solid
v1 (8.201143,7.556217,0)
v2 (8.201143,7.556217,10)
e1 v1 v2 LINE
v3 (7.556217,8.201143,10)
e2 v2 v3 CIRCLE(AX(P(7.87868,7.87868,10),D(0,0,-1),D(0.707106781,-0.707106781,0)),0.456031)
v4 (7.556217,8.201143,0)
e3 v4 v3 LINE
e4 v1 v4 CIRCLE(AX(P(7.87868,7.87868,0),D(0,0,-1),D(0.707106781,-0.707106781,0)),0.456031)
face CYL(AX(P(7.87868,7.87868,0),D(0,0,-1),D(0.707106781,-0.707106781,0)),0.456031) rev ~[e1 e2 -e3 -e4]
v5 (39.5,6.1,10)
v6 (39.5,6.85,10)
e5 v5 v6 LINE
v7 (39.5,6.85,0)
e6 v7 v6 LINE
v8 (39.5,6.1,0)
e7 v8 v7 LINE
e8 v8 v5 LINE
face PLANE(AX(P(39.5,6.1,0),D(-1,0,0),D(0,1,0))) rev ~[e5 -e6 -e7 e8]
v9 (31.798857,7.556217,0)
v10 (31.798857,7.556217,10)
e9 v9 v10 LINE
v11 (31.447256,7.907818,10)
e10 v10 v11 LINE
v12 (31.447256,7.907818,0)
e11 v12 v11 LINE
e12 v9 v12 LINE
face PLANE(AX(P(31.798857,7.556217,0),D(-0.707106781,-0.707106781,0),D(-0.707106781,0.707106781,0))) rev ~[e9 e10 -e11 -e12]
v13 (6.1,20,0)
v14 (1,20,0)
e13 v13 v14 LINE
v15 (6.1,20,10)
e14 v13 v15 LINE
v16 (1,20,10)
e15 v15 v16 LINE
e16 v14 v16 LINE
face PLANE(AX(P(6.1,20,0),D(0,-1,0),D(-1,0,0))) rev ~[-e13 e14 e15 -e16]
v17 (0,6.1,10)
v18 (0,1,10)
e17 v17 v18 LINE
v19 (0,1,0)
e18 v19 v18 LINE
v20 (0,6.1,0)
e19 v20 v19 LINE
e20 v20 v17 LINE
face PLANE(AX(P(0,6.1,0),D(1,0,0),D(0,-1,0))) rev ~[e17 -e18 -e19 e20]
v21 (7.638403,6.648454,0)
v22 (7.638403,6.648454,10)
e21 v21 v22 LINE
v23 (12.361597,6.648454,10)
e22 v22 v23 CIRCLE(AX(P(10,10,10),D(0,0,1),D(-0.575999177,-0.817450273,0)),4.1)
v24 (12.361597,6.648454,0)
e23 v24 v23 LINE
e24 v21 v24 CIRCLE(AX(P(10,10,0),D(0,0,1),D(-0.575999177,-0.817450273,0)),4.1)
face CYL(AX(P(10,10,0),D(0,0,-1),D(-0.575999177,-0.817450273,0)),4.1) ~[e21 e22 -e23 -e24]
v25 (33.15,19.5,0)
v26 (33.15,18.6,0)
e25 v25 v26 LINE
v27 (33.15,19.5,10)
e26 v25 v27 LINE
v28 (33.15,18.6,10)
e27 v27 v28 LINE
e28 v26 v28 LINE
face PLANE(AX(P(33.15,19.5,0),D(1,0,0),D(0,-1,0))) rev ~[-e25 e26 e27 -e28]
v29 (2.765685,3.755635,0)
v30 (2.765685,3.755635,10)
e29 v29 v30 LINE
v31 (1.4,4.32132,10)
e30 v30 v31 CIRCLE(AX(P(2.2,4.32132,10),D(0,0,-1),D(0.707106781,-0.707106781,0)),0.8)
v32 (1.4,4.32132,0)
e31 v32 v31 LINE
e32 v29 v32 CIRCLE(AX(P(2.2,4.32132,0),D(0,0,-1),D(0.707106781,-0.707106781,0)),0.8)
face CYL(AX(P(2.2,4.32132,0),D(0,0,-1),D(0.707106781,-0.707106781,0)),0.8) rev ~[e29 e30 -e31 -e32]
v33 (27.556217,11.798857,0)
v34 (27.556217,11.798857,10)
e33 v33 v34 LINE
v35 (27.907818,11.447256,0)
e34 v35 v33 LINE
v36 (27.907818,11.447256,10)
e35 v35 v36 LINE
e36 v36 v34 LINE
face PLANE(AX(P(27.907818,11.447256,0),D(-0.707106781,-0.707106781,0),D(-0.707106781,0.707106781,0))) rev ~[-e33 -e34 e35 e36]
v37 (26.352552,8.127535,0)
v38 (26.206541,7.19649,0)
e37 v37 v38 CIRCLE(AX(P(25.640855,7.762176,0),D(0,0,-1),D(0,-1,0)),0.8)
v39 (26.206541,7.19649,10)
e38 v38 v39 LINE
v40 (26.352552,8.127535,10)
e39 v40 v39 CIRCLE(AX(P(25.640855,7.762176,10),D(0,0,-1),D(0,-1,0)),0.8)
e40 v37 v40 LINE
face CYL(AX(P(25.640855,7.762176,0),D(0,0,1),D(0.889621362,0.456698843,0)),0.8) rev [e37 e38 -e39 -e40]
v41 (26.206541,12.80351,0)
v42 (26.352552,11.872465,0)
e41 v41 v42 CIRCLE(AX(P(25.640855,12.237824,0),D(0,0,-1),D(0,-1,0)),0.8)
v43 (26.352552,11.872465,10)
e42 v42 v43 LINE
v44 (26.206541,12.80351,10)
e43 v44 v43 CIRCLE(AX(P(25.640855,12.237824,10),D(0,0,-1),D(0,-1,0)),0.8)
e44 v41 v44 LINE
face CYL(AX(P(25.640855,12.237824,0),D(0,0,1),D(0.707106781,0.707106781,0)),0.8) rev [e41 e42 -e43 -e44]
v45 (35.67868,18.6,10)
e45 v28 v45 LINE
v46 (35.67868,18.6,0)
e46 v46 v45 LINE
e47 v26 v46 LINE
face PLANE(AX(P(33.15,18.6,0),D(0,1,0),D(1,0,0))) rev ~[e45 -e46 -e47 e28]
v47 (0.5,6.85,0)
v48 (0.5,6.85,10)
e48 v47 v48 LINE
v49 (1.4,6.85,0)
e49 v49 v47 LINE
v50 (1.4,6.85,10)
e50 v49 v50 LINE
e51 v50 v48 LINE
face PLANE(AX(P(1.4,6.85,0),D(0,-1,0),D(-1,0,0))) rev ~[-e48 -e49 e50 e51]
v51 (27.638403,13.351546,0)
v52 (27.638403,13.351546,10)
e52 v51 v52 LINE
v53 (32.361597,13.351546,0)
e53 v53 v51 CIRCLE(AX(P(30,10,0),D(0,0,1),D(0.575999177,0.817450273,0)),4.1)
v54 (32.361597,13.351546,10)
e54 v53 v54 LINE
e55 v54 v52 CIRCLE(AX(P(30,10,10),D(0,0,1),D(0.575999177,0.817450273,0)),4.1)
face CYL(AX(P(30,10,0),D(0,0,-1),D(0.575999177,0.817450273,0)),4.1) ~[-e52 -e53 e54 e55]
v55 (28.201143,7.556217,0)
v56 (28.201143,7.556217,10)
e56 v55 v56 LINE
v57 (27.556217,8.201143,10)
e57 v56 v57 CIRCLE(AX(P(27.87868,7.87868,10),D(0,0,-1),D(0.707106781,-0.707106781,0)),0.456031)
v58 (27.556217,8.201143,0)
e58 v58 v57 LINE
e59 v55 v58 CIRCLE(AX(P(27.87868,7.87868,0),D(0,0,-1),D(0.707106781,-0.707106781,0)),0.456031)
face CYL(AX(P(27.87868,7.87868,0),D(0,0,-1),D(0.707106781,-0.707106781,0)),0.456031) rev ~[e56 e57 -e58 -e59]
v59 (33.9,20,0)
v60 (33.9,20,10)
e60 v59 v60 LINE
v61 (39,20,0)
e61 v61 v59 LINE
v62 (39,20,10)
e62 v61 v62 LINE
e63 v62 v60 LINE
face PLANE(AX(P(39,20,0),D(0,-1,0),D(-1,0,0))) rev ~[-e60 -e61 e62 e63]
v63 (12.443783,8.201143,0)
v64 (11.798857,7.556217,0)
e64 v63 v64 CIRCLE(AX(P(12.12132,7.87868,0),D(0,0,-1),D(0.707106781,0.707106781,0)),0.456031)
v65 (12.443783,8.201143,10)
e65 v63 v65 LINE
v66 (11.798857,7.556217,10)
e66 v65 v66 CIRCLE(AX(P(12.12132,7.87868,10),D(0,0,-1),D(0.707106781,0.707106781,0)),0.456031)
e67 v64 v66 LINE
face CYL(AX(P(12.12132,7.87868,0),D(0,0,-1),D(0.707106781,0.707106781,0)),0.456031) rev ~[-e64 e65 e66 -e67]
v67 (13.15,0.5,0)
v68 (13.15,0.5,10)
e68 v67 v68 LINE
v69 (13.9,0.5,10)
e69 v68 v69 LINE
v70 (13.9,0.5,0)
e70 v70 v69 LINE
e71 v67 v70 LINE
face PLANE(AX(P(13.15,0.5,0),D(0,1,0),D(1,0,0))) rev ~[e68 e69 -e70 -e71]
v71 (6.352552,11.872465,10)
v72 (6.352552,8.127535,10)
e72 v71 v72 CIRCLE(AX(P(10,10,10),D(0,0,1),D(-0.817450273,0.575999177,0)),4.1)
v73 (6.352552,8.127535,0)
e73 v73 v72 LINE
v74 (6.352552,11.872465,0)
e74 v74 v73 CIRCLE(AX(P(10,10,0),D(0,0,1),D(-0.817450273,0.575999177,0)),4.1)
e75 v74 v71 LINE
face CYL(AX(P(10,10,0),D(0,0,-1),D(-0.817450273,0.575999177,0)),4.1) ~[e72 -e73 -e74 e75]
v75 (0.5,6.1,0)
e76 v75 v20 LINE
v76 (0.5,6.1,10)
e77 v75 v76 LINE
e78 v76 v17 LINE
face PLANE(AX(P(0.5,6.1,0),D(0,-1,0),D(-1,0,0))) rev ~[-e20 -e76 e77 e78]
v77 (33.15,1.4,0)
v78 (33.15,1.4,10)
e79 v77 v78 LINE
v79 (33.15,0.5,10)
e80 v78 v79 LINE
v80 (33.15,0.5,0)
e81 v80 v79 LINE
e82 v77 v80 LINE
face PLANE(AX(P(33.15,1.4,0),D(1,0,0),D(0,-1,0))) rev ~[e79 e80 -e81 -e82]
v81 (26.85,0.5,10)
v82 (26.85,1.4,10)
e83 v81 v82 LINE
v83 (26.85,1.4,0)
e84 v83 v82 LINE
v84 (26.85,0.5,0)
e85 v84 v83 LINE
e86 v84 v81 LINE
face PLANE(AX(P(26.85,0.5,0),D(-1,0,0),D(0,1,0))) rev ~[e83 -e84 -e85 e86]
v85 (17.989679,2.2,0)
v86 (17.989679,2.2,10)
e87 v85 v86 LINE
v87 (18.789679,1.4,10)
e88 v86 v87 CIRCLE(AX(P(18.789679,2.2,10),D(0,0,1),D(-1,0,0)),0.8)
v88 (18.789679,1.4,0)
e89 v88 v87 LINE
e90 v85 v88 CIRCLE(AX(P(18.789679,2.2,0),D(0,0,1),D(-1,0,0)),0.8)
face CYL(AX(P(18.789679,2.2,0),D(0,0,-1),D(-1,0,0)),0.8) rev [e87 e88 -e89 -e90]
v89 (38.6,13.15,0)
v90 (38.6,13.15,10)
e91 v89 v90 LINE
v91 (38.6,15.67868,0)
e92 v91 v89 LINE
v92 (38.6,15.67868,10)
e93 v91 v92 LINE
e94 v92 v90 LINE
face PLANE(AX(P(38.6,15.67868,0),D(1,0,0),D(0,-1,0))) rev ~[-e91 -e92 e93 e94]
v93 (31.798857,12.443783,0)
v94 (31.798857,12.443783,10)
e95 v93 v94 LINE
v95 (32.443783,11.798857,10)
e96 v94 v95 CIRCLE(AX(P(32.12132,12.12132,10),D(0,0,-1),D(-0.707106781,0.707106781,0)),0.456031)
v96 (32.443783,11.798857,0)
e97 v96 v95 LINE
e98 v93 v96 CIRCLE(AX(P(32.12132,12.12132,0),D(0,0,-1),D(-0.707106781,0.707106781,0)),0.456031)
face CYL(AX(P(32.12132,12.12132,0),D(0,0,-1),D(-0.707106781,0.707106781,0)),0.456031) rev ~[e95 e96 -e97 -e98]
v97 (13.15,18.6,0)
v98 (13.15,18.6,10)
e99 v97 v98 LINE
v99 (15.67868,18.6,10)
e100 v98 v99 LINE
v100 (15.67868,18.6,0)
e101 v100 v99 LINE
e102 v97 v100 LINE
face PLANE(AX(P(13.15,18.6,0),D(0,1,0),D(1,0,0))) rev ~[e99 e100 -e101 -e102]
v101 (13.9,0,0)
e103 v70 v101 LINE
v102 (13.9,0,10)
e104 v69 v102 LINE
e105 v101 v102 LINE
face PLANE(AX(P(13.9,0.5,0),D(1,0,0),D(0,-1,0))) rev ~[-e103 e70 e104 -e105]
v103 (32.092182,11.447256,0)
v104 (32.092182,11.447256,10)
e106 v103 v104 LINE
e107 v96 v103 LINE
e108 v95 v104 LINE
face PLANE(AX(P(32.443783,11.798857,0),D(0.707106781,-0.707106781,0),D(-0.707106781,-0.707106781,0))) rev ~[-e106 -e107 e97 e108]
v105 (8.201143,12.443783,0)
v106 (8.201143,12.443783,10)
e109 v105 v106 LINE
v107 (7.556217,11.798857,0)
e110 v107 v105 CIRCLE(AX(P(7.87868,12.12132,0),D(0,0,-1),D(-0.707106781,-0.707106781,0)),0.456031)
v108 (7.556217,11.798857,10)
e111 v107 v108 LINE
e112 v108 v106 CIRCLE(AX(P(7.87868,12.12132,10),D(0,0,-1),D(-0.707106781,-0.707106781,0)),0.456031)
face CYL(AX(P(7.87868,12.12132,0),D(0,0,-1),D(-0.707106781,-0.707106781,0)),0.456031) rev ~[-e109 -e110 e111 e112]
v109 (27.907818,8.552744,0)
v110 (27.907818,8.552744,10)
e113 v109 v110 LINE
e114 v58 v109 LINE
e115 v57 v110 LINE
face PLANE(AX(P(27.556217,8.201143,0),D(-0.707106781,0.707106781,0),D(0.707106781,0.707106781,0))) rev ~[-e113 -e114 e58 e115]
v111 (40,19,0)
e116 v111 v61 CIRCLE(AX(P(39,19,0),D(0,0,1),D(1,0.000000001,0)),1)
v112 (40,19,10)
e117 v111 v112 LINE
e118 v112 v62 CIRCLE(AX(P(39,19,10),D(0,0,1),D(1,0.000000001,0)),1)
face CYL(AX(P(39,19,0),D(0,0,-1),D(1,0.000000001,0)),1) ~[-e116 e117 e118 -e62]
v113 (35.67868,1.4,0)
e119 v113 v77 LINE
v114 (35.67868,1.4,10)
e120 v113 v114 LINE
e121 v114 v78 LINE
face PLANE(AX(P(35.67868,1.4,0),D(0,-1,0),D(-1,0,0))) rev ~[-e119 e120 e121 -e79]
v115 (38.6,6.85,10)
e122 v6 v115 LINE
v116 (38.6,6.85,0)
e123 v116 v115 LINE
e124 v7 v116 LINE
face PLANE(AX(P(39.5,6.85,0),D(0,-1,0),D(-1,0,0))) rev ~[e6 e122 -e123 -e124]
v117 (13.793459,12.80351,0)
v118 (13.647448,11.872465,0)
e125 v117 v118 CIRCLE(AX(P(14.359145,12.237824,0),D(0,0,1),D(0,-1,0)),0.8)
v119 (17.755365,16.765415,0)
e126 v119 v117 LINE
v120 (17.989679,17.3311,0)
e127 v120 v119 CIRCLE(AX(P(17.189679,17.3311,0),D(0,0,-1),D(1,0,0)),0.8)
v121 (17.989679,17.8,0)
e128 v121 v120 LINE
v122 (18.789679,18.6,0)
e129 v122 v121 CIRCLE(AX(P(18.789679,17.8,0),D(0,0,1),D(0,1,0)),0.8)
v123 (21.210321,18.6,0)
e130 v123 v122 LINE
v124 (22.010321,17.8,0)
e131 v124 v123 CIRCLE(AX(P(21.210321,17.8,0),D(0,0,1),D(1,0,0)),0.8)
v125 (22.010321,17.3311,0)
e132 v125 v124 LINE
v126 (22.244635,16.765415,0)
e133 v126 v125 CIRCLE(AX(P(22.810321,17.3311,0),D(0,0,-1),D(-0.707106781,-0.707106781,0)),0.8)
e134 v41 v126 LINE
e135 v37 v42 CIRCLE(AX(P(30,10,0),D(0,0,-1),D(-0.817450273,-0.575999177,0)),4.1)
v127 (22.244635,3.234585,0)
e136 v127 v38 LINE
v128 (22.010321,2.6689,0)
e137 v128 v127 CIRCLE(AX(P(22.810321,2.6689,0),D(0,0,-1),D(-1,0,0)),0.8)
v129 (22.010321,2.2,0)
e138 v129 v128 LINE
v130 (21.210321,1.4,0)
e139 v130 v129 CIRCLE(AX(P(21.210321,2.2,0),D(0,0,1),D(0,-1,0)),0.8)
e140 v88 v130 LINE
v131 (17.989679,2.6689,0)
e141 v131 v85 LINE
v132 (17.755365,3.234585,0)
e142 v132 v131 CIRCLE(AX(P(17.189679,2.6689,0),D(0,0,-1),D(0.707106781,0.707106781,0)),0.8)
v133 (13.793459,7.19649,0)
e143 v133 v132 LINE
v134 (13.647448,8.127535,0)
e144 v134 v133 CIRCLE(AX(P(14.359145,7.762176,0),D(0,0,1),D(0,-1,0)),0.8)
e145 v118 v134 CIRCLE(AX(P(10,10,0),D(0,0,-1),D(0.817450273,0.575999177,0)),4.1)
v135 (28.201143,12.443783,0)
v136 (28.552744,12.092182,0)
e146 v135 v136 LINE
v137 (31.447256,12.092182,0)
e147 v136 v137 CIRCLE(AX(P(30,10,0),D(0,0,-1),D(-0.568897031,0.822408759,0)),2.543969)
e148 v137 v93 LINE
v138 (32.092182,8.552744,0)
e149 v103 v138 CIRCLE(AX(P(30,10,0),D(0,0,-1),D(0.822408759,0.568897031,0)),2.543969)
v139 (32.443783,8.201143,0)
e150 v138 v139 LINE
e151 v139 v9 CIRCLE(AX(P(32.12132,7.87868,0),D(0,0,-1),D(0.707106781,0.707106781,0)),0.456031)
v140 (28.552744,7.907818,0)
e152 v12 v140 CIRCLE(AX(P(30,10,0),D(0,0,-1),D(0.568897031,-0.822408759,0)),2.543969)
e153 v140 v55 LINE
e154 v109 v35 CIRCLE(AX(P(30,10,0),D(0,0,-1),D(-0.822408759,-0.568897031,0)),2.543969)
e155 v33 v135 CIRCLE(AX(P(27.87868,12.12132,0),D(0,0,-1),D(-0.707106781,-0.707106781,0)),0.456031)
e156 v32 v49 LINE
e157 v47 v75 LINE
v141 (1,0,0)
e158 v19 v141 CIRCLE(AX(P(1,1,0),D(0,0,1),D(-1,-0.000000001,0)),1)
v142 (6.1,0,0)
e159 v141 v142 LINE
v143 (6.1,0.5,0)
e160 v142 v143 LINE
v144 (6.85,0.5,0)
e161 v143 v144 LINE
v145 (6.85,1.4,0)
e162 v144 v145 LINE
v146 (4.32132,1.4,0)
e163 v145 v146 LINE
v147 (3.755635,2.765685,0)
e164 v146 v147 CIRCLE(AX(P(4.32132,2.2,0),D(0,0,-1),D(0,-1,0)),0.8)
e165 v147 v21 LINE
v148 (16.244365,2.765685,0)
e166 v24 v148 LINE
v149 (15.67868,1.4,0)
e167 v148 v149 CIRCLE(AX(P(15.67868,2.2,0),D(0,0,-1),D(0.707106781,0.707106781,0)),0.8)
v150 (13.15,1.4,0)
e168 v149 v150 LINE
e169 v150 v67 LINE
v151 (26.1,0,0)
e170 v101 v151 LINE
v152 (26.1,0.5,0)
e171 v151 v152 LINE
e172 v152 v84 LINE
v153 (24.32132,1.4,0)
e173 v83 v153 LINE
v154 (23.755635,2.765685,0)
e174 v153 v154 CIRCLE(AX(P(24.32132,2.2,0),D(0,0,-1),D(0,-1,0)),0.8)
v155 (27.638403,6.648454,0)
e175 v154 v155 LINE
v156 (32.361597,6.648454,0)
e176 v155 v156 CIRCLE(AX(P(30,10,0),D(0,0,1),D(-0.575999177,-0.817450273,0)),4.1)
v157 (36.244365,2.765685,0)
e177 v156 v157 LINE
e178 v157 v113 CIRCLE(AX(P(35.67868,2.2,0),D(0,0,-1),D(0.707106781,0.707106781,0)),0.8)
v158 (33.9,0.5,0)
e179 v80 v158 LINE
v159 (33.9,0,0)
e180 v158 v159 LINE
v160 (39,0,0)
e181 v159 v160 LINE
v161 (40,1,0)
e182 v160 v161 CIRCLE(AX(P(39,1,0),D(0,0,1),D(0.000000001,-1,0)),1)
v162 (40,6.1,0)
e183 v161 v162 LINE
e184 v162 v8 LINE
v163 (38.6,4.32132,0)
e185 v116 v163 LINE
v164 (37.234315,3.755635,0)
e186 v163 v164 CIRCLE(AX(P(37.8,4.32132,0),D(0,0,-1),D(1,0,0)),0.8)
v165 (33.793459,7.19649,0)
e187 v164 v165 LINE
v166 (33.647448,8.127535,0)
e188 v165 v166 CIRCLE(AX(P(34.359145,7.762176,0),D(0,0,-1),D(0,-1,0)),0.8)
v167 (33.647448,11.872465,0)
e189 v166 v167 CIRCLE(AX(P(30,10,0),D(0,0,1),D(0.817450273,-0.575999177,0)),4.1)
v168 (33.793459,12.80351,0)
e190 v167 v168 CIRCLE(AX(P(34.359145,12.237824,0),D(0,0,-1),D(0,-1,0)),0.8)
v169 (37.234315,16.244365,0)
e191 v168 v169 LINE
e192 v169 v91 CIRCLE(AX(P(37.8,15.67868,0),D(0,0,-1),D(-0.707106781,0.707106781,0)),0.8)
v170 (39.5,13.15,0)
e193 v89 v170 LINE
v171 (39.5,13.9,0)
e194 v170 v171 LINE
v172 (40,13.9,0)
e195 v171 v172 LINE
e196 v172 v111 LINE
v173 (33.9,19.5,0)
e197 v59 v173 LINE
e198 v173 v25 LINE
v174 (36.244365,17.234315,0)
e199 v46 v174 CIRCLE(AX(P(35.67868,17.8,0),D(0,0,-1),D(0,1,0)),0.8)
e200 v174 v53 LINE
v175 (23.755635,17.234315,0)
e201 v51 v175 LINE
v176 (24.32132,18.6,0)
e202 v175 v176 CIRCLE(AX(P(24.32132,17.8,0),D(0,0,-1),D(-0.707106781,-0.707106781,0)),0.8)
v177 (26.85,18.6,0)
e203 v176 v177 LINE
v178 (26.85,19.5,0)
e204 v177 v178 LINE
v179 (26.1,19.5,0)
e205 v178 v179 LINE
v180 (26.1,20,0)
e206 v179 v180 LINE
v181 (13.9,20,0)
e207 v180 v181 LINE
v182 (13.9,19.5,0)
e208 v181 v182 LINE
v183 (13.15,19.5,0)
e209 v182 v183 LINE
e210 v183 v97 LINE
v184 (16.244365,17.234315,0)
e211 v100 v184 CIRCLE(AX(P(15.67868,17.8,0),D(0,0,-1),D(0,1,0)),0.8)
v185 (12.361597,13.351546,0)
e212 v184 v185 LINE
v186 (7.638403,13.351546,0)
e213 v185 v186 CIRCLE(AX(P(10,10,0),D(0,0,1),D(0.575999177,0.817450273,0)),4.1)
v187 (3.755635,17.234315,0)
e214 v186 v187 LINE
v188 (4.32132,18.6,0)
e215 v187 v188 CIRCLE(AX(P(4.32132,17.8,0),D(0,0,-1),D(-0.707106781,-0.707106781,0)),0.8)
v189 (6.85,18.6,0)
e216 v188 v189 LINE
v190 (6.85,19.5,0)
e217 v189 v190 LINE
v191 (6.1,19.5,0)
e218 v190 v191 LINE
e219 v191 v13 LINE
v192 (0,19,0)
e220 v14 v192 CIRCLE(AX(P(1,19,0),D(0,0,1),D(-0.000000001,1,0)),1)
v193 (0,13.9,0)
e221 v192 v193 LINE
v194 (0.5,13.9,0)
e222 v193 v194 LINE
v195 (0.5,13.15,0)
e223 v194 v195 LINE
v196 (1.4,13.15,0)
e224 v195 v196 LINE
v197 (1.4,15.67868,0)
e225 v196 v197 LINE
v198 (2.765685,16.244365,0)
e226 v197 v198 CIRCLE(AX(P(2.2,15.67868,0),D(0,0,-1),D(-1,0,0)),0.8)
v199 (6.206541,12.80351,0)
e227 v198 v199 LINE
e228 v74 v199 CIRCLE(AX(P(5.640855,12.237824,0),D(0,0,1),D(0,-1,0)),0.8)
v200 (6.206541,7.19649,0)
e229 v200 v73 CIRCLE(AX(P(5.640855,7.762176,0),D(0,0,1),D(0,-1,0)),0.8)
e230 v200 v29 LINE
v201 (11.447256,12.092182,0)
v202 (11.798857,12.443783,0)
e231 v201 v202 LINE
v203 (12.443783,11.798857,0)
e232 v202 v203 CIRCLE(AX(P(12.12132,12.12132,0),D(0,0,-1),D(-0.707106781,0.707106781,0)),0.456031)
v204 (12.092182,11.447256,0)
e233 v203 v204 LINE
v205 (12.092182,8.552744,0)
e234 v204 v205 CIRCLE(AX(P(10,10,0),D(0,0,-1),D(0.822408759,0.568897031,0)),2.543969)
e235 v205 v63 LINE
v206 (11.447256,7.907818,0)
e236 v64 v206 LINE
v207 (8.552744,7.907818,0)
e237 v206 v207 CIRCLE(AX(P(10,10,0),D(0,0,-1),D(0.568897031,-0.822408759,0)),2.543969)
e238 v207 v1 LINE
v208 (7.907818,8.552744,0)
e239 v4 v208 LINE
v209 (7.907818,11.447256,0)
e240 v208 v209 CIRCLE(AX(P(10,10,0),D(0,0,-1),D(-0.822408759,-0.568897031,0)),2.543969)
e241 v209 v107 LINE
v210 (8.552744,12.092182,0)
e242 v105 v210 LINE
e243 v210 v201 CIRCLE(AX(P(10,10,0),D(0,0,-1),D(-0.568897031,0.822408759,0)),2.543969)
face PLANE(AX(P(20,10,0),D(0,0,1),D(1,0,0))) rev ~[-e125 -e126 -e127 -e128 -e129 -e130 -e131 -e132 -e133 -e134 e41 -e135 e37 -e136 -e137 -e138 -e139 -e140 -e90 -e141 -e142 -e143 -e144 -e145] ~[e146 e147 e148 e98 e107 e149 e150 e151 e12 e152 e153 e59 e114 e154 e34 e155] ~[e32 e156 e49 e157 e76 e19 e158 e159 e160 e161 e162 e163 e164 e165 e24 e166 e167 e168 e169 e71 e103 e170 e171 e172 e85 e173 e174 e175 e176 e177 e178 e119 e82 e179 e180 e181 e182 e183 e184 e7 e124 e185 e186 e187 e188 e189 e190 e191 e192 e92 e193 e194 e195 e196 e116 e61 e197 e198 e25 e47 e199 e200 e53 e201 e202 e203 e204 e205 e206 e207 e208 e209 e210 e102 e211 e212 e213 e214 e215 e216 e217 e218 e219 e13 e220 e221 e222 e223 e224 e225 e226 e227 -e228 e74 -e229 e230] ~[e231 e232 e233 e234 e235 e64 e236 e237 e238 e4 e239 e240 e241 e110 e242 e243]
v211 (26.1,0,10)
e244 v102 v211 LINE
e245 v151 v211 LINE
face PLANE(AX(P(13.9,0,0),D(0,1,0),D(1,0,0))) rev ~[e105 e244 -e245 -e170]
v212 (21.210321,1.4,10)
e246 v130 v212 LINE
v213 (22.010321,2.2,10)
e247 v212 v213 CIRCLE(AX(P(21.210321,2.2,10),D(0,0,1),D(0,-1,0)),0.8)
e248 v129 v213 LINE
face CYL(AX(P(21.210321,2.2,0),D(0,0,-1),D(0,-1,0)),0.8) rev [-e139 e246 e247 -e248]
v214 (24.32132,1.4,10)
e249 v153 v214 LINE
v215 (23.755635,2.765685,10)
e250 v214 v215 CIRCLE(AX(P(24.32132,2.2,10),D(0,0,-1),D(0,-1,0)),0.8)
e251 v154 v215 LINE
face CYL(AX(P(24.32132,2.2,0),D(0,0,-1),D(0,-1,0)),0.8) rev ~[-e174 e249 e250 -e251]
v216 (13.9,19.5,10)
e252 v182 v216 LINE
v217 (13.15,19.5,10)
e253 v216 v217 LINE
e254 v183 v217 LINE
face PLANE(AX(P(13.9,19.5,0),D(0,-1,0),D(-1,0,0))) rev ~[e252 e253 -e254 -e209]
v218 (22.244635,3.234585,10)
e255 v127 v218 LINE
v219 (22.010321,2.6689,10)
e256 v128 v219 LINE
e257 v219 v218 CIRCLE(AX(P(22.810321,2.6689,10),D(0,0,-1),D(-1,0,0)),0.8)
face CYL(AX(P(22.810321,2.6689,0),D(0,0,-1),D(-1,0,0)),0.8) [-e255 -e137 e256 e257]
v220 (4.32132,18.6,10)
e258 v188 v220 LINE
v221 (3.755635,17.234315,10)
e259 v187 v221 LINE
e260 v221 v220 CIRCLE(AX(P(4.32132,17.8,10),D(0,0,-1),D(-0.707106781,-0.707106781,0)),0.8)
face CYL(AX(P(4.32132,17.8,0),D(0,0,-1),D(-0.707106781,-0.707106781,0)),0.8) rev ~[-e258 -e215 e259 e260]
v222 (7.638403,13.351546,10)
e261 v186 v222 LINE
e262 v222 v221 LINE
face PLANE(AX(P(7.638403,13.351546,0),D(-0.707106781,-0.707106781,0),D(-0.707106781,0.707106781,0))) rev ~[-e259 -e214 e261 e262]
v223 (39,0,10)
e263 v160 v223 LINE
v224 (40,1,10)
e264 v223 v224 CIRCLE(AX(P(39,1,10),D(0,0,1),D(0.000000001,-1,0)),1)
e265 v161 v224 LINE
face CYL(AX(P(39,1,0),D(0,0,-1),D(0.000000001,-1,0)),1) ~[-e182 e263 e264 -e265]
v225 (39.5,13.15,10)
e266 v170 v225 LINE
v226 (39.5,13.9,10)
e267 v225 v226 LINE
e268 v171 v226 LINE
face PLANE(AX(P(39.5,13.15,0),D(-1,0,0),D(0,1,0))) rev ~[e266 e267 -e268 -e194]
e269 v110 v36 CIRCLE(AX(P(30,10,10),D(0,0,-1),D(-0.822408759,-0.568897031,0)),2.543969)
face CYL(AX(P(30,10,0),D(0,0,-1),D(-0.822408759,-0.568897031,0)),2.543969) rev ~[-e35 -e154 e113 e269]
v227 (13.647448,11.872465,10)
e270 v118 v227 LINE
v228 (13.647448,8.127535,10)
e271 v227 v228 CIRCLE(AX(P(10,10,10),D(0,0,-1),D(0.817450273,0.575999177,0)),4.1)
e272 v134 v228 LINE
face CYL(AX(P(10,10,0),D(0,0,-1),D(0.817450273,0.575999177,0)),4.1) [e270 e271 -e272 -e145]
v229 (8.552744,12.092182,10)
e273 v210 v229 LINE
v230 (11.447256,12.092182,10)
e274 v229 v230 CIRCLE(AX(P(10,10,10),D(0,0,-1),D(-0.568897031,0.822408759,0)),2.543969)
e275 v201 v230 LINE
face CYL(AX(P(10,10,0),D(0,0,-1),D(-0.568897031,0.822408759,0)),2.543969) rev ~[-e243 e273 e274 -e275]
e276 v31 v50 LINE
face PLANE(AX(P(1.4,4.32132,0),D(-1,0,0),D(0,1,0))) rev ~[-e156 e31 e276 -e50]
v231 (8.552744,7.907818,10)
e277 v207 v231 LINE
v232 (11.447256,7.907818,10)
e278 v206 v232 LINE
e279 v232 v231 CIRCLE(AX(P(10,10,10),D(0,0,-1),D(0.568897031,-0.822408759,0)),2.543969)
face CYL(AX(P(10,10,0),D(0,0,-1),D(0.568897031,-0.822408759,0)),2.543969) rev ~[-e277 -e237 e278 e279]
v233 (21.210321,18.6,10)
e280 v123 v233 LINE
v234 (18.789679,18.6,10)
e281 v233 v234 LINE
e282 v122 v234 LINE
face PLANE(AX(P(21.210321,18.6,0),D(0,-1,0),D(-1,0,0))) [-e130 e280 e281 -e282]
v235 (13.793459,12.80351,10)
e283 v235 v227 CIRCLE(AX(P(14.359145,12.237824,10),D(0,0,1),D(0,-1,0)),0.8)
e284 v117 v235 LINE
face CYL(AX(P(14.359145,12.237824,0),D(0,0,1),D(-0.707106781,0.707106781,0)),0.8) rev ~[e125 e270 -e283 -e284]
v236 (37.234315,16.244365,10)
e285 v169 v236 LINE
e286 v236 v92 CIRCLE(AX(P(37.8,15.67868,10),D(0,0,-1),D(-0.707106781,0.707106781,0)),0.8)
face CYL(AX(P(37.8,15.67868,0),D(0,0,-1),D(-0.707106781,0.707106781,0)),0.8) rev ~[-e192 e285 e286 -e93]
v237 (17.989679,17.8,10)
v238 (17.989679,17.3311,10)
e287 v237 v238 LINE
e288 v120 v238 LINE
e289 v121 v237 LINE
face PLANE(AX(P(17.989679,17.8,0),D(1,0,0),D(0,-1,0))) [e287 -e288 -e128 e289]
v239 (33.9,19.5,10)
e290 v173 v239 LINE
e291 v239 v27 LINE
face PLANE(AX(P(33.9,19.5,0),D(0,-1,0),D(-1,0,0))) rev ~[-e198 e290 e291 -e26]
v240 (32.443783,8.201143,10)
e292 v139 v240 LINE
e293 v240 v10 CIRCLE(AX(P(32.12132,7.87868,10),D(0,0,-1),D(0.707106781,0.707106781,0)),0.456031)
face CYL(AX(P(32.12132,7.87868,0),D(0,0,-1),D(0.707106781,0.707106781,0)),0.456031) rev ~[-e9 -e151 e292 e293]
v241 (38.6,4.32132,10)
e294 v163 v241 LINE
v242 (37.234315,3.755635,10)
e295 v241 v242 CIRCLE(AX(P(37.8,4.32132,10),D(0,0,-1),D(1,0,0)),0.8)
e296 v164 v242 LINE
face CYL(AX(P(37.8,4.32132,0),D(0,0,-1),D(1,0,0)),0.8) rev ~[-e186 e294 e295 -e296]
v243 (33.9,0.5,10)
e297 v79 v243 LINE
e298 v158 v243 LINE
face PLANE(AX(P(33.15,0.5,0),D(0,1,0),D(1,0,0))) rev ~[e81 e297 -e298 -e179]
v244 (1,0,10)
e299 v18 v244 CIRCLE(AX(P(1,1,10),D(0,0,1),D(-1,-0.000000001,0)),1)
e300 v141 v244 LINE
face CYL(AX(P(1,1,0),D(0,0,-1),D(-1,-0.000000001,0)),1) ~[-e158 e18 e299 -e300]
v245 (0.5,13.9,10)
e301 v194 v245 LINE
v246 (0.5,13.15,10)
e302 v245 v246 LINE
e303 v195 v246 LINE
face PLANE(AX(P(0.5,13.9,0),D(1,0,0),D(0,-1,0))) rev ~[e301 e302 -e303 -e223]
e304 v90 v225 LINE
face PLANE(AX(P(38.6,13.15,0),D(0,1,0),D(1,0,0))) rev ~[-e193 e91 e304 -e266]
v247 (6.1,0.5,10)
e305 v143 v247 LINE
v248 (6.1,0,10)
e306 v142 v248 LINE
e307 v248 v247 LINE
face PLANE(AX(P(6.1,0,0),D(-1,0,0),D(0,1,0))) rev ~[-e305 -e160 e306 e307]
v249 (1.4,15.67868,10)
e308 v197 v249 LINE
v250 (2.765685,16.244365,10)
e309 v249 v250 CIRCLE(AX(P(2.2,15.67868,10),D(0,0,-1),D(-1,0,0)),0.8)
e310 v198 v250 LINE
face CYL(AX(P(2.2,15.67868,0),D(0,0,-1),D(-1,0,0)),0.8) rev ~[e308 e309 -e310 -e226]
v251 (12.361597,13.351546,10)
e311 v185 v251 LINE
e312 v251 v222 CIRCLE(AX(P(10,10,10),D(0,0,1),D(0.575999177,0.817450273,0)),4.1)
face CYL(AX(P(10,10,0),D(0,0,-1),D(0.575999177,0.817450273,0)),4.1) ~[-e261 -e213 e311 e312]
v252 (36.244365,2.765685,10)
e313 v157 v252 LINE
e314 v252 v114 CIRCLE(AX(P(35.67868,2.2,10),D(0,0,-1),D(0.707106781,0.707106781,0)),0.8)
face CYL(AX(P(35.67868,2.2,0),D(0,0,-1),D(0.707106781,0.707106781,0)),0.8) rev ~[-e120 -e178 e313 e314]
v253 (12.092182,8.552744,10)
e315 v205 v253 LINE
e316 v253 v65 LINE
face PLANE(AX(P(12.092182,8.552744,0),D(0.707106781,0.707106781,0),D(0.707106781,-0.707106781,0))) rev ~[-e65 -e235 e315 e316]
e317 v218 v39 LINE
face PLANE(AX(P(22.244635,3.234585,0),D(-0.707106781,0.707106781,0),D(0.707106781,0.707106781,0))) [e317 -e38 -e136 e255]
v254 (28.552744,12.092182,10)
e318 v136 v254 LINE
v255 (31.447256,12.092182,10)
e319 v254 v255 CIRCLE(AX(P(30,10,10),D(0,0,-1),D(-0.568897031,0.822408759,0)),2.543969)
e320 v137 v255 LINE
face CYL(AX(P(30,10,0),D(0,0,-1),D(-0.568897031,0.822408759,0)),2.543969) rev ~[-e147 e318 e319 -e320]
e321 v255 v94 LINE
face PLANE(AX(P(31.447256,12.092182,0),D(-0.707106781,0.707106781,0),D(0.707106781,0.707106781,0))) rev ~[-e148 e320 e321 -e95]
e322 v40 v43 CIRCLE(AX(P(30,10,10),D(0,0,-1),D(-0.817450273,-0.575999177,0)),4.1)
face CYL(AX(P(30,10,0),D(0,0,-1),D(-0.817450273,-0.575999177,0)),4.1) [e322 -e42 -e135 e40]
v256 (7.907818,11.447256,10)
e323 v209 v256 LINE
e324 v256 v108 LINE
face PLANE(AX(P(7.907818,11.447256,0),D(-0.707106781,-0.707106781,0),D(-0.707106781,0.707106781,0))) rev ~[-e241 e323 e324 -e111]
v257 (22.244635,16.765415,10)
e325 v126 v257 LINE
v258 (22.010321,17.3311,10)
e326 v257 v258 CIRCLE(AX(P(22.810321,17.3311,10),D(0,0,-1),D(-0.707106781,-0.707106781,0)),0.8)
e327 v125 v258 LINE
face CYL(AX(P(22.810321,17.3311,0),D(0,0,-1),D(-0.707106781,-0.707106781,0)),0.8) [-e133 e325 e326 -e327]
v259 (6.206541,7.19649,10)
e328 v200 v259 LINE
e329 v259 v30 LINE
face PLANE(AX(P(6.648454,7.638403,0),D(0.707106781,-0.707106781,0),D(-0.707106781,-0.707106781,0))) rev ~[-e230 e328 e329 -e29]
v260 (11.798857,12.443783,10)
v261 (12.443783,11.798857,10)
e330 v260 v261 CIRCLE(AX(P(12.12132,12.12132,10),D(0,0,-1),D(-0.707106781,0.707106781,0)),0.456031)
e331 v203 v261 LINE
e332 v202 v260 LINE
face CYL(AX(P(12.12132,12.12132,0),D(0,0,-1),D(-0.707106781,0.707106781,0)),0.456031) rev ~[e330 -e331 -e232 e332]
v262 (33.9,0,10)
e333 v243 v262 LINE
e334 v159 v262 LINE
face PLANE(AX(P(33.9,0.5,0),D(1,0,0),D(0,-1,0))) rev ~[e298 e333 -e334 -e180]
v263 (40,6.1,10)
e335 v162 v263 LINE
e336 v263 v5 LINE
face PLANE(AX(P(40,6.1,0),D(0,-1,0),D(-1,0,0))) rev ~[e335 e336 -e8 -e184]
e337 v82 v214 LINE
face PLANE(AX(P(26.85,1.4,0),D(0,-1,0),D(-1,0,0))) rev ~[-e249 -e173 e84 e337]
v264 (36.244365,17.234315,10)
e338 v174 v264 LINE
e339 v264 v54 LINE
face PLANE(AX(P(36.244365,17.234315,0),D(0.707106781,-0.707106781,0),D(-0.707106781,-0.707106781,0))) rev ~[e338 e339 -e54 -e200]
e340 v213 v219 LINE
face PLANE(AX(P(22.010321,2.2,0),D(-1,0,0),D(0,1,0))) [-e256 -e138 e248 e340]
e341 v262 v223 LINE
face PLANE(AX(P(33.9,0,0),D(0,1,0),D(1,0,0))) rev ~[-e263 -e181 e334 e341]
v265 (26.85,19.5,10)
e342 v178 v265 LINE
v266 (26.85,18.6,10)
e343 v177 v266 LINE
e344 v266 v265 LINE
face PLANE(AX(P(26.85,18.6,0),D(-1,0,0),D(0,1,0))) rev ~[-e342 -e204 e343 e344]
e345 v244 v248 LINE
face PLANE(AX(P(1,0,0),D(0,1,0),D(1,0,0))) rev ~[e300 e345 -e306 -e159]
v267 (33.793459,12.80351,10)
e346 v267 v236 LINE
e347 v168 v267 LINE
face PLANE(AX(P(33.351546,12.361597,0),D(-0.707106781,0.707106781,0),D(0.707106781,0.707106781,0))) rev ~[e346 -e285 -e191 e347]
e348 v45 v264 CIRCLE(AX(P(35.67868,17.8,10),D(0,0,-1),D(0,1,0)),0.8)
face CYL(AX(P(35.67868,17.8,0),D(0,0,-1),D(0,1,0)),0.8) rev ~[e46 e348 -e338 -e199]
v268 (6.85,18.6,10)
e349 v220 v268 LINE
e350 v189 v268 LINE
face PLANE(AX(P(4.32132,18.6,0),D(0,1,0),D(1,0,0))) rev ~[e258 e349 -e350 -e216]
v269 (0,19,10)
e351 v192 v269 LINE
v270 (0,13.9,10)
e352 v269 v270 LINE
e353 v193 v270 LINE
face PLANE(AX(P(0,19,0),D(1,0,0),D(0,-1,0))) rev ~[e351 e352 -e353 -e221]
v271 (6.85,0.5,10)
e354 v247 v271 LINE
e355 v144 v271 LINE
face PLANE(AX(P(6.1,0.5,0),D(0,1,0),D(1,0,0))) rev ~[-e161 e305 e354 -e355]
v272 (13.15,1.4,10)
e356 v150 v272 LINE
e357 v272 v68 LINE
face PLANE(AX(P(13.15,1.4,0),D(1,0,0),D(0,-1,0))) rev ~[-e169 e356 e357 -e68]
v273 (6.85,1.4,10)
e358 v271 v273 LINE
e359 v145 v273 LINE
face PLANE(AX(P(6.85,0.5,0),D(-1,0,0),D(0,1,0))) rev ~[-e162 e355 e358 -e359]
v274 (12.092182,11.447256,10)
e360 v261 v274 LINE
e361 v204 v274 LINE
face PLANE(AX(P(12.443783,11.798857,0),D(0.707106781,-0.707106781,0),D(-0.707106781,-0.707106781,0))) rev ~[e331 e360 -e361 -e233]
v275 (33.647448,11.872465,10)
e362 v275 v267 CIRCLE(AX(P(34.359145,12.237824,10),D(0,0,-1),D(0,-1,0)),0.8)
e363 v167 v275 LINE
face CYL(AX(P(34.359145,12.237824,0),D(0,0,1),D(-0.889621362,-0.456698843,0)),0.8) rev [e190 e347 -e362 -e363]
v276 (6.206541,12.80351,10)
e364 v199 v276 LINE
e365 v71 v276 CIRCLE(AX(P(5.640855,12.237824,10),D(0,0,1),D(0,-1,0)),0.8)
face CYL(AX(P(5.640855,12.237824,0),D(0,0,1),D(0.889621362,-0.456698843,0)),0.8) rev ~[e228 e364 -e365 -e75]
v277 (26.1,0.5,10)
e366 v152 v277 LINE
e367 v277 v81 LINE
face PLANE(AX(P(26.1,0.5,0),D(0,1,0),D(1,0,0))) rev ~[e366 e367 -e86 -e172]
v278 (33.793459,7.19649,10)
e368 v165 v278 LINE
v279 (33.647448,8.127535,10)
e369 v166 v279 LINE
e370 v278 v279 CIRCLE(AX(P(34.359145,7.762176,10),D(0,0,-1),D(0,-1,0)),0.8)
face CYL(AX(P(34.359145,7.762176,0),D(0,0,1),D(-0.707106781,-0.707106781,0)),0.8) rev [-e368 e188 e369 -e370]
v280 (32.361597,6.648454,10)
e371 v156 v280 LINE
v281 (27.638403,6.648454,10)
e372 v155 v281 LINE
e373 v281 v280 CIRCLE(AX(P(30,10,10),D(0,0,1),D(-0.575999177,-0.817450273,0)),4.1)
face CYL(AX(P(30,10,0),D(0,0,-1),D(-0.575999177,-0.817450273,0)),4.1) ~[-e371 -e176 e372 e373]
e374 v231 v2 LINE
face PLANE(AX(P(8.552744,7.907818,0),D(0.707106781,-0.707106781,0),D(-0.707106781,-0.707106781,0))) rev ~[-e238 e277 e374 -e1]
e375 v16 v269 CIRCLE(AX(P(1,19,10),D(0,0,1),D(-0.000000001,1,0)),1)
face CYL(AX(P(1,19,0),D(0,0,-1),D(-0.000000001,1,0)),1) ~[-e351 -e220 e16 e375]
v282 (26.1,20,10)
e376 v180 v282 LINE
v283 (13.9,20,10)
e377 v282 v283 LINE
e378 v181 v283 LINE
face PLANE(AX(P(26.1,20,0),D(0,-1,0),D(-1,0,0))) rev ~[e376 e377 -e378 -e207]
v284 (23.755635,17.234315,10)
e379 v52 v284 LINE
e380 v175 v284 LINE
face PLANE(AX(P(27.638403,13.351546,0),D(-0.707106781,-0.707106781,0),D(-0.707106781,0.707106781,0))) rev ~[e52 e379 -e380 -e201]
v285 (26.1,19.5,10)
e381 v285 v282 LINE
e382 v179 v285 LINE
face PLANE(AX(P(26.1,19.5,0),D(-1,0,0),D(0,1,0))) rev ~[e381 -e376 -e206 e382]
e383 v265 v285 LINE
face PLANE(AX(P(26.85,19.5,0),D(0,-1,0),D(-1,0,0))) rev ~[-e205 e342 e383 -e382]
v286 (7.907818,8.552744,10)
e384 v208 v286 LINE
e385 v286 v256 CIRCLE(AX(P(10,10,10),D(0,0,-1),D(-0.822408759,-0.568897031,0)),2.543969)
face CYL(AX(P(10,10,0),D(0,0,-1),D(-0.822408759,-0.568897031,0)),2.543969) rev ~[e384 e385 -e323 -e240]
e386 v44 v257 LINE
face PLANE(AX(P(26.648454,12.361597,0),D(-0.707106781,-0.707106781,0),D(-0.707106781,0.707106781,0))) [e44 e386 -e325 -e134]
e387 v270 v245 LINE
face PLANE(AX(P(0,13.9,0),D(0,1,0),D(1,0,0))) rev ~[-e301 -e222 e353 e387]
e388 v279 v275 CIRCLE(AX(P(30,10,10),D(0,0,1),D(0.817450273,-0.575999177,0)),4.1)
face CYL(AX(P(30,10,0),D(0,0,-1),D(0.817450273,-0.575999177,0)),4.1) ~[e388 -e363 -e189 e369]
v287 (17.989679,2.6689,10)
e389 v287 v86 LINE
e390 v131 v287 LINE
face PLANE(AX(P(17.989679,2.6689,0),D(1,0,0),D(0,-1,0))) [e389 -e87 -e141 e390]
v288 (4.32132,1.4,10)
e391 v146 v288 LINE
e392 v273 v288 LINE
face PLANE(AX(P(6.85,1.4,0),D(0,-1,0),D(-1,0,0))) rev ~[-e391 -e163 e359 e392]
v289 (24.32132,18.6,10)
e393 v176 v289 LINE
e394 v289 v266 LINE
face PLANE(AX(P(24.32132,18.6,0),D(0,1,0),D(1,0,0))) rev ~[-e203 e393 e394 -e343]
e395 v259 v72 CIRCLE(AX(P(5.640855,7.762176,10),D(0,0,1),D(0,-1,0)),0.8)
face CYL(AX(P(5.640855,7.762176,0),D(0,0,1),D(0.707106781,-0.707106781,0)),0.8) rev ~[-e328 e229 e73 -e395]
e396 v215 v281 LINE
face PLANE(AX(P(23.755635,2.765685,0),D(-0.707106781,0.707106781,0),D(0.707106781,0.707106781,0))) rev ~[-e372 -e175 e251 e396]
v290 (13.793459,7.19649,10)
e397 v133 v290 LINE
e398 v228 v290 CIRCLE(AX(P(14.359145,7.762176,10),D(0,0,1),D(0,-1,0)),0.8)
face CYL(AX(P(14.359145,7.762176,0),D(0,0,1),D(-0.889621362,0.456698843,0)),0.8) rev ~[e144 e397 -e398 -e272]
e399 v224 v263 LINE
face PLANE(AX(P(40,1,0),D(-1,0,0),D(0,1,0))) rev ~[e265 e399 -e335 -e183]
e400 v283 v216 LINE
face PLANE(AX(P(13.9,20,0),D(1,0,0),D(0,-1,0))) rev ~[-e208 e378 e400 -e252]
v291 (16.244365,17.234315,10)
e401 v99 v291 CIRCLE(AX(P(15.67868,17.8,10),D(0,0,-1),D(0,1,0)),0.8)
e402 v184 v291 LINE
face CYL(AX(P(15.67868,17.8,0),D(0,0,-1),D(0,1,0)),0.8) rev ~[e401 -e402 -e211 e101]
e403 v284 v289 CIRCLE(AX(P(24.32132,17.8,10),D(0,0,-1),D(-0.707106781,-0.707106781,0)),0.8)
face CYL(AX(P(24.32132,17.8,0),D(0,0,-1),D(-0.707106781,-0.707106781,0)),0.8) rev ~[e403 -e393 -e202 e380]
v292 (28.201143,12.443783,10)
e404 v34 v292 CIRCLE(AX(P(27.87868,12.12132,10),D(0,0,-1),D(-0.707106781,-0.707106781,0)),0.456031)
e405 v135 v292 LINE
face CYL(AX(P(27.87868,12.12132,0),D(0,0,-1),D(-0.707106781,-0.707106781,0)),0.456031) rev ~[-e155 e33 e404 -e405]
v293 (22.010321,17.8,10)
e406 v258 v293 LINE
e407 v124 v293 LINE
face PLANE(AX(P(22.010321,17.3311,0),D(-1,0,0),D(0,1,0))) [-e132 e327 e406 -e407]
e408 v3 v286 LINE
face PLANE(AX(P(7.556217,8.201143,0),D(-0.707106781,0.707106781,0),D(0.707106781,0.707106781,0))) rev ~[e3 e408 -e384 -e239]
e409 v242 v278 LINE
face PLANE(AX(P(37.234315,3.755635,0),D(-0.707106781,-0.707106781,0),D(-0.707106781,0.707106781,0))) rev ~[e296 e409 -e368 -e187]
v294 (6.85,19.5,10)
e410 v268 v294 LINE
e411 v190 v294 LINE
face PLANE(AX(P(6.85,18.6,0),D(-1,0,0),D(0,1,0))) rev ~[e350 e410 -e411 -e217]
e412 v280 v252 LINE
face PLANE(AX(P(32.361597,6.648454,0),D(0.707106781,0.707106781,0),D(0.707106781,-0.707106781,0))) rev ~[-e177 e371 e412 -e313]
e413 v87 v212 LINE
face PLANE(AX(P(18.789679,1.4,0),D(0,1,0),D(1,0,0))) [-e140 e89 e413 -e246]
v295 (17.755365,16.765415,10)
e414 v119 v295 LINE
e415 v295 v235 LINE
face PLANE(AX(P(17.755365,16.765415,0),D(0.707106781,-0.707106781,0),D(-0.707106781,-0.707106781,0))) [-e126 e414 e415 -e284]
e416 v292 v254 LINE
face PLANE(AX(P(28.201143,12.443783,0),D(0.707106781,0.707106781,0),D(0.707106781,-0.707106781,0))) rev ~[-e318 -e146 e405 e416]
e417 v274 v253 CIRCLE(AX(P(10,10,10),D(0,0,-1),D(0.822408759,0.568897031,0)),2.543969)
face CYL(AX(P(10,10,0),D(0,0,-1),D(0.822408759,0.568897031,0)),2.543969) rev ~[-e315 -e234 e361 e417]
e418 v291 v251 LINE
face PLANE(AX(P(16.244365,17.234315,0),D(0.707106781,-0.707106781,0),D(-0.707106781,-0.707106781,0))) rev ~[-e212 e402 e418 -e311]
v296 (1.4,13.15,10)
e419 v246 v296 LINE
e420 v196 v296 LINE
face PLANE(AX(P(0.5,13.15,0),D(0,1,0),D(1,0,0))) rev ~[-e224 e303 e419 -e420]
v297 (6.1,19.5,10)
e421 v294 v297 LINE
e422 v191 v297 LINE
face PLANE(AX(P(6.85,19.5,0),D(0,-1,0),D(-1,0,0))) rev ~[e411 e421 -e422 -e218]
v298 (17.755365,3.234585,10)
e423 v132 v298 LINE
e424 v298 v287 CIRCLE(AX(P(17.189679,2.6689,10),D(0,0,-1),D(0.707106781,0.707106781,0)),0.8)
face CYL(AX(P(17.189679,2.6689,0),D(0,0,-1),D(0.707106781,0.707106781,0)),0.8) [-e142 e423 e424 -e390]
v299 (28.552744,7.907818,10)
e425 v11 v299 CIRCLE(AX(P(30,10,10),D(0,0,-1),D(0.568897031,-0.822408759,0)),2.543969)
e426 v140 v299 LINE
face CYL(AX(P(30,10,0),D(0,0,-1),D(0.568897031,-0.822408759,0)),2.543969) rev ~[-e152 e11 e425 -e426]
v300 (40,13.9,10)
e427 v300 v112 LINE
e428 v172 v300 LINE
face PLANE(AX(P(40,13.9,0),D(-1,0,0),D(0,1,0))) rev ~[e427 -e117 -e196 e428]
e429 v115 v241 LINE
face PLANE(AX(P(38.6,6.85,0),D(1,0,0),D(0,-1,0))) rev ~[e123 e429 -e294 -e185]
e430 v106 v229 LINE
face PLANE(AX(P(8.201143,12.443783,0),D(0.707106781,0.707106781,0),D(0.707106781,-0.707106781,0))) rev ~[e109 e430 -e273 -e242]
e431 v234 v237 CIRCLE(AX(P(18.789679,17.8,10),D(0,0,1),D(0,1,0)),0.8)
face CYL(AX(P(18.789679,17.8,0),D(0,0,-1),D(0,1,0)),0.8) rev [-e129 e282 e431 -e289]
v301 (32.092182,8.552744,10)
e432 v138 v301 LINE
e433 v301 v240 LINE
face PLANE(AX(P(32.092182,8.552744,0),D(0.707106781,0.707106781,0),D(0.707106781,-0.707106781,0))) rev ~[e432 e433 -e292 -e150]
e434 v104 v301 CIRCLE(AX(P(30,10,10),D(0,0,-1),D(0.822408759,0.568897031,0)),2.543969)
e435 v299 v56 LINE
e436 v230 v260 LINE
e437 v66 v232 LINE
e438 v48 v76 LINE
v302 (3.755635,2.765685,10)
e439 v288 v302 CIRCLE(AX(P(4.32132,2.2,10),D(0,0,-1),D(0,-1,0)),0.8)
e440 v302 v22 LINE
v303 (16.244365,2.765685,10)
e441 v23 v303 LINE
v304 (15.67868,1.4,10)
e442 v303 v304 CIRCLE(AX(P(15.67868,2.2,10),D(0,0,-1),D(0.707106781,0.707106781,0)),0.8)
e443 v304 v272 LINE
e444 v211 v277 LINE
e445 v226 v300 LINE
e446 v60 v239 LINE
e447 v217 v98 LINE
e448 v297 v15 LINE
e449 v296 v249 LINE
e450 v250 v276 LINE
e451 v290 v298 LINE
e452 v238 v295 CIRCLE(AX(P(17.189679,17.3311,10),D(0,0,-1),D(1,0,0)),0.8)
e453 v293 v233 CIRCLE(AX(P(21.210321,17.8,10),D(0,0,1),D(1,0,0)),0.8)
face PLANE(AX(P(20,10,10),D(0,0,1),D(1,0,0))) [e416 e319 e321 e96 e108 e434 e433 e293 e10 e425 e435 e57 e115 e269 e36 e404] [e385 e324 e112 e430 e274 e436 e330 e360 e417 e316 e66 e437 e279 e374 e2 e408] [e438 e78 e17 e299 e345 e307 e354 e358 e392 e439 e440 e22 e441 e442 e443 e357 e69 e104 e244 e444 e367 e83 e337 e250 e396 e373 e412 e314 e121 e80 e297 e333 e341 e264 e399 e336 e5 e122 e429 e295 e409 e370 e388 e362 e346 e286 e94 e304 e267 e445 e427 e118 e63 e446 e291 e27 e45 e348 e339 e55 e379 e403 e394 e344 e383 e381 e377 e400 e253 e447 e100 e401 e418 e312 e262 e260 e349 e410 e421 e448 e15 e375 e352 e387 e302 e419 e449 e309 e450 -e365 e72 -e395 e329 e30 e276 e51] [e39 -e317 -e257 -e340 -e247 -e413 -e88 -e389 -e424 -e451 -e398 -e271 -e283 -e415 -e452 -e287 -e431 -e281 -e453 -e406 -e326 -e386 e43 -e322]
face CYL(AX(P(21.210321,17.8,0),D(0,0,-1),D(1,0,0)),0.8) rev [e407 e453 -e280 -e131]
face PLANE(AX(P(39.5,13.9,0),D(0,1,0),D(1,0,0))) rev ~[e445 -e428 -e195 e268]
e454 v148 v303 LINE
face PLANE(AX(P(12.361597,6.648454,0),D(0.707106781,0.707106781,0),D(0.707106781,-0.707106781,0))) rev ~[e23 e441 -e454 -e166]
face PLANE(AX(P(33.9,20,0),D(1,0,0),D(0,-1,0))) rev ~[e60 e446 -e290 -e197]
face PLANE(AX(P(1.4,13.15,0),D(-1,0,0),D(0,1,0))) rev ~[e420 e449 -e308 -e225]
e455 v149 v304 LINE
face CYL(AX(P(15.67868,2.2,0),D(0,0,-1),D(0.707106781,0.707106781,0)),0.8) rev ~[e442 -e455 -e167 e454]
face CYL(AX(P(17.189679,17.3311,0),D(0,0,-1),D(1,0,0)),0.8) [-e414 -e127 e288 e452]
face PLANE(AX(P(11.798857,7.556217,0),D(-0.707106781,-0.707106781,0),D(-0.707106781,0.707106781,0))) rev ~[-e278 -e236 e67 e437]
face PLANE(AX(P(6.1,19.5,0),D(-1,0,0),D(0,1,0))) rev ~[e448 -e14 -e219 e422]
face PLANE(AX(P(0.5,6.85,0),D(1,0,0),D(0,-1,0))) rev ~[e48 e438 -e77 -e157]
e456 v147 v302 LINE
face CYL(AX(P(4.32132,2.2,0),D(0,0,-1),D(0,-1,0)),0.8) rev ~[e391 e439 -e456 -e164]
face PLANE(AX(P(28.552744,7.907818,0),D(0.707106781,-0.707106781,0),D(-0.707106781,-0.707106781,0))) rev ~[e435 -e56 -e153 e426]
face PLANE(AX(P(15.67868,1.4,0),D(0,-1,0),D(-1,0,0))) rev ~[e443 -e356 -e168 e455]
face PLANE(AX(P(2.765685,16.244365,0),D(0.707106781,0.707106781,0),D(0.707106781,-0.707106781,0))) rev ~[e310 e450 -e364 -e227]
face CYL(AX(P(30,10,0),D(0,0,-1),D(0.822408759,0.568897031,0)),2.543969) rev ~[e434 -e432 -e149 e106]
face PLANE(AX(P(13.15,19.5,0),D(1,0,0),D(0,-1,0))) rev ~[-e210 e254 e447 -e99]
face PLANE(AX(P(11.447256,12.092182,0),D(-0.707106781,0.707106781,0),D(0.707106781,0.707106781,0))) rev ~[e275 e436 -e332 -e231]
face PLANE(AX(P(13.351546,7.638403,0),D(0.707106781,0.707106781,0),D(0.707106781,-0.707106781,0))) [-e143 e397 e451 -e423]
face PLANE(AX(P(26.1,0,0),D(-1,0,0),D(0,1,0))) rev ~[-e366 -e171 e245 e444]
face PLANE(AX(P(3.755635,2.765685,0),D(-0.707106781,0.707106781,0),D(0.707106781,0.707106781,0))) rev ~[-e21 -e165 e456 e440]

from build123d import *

# Parameters (mm, degrees)
Y_KSEKLIK_EKSTR_ZYON2_DEPTH = 10
RADYUS1_R                   = 0.8


with BuildPart() as part:
    # Çizim3 → Yükseklik-Ekstrüzyon2 (new body)
    with BuildSketch(Plane.XY):
        with BuildLine():
            Line((1, 0), (6.1, 0))
            Line((6.1, 0), (6.1, 0.5))
            Line((6.1, 0.5), (6.85, 0.5))
            Line((6.85, 0.5), (6.85, 1.4))
            Line((6.85, 1.4), (4.321320344, 1.4))
            ThreePointArc((4.321320344, 1.4), (3.582216718, 1.893853254), (3.755634919, 2.765685425))
            Line((3.755634919, 2.765685425), (7.638403375, 6.648453882))
            ThreePointArc((7.638403375, 6.648453882), (10, 5.9), (12.361596625, 6.648453882))
            Line((12.361596625, 6.648453882), (16.244365081, 2.765685425))
            ThreePointArc((16.244365081, 2.765685425), (16.417783282, 1.893853254), (15.678679656, 1.4))
            Line((15.678679656, 1.4), (13.15, 1.4))
            Line((13.15, 1.4), (13.15, 0.5))
            Line((13.15, 0.5), (13.9, 0.5))
            Line((13.9, 0.5), (13.9, 0))
            Line((13.9, 0), (26.1, 0))
            Line((26.1, 0), (26.1, 0.5))
            Line((26.1, 0.5), (26.85, 0.5))
            Line((26.85, 0.5), (26.85, 1.4))
            Line((26.85, 1.4), (24.321320344, 1.4))
            ThreePointArc((24.321320344, 1.4), (23.582216718, 1.893853254), (23.755634919, 2.765685425))
            Line((23.755634919, 2.765685425), (27.638403375, 6.648453882))
            ThreePointArc((27.638403375, 6.648453882), (30, 5.9), (32.361596625, 6.648453882))
            Line((32.361596625, 6.648453882), (36.244365081, 2.765685425))
            ThreePointArc((36.244365081, 2.765685425), (36.417783282, 1.893853254), (35.678679656, 1.4))
            Line((35.678679656, 1.4), (33.15, 1.4))
            Line((33.15, 1.4), (33.15, 0.5))
            Line((33.15, 0.5), (33.9, 0.5))
            Line((33.9, 0.5), (33.9, 0))
            Line((33.9, 0), (39, 0))
            ThreePointArc((39, 0), (39.707106781, 0.292893219), (40, 1))
            Line((40, 1), (40, 6.1))
            Line((40, 6.1), (39.5, 6.1))
            Line((39.5, 6.1), (39.5, 6.85))
            Line((39.5, 6.85), (38.6, 6.85))
            Line((38.6, 6.85), (38.6, 4.321320344))
            ThreePointArc((38.6, 4.321320344), (38.106146746, 3.582216718), (37.234314575, 3.755634919))
            Line((37.234314575, 3.755634919), (33.351546118, 7.638403375))
            ThreePointArc((33.351546118, 7.638403375), (34.1, 10), (33.351546118, 12.361596625))
            Line((33.351546118, 12.361596625), (37.234314575, 16.244365081))
            ThreePointArc((37.234314575, 16.244365081), (38.106146746, 16.417783282), (38.6, 15.678679656))
            Line((38.6, 15.678679656), (38.6, 13.15))
            Line((38.6, 13.15), (39.5, 13.15))
            Line((39.5, 13.15), (39.5, 13.9))
            Line((39.5, 13.9), (40, 13.9))
            Line((40, 13.9), (40, 19))
            ThreePointArc((40, 19), (39.707106781, 19.707106781), (39, 20))
            Line((39, 20), (33.9, 20))
            Line((33.9, 20), (33.9, 19.5))
            Line((33.9, 19.5), (33.15, 19.5))
            Line((33.15, 19.5), (33.15, 18.6))
            Line((33.15, 18.6), (35.678679656, 18.6))
            ThreePointArc((35.678679656, 18.6), (36.417783282, 18.106146746), (36.244365081, 17.234314575))
            Line((36.244365081, 17.234314575), (32.361596625, 13.351546118))
            ThreePointArc((32.361596625, 13.351546118), (30, 14.1), (27.638403375, 13.351546118))
            Line((27.638403375, 13.351546118), (23.755634919, 17.234314575))
            ThreePointArc((23.755634919, 17.234314575), (23.582216718, 18.106146746), (24.321320344, 18.6))
            Line((24.321320344, 18.6), (26.85, 18.6))
            Line((26.85, 18.6), (26.85, 19.5))
            Line((26.85, 19.5), (26.1, 19.5))
            Line((26.1, 19.5), (26.1, 20))
            Line((26.1, 20), (13.9, 20))
            Line((13.9, 20), (13.9, 19.5))
            Line((13.9, 19.5), (13.15, 19.5))
            Line((13.15, 19.5), (13.15, 18.6))
            Line((13.15, 18.6), (15.678679656, 18.6))
            ThreePointArc((15.678679656, 18.6), (16.417783282, 18.106146746), (16.244365081, 17.234314575))
            Line((16.244365081, 17.234314575), (12.361596625, 13.351546118))
            ThreePointArc((12.361596625, 13.351546118), (10, 14.1), (7.638403375, 13.351546118))
            Line((7.638403375, 13.351546118), (3.755634919, 17.234314575))
            ThreePointArc((3.755634919, 17.234314575), (3.582216718, 18.106146746), (4.321320344, 18.6))
            Line((4.321320344, 18.6), (6.85, 18.6))
            Line((6.85, 18.6), (6.85, 19.5))
            Line((6.85, 19.5), (6.1, 19.5))
            Line((6.1, 19.5), (6.1, 20))
            Line((6.1, 20), (1, 20))
            ThreePointArc((1, 20), (0.292893219, 19.707106781), (0, 19))
            Line((0, 19), (0, 13.9))
            Line((0, 13.9), (0.5, 13.9))
            Line((0.5, 13.9), (0.5, 13.15))
            Line((0.5, 13.15), (1.4, 13.15))
            Line((1.4, 13.15), (1.4, 15.678679656))
            ThreePointArc((1.4, 15.678679656), (1.893853254, 16.417783282), (2.765685425, 16.244365081))
            Line((2.765685425, 16.244365081), (6.648453882, 12.361596625))
            ThreePointArc((6.648453882, 12.361596625), (5.9, 10), (6.648453882, 7.638403375))
            Line((6.648453882, 7.638403375), (2.765685425, 3.755634919))
            ThreePointArc((2.765685425, 3.755634919), (1.893853254, 3.582216718), (1.4, 4.321320344))
            Line((1.4, 4.321320344), (1.4, 6.85))
            Line((1.4, 6.85), (0.5, 6.85))
            Line((0.5, 6.85), (0.5, 6.1))
            Line((0.5, 6.1), (0, 6.1))
            Line((0, 6.1), (0, 1))
            ThreePointArc((0, 1), (0.292893219, 0.292893219), (1, 0))
        make_face()
        with BuildLine():
            Line((21.210320913, 18.6), (18.789679087, 18.6))
            ThreePointArc((18.789679087, 18.6), (18.223993662, 18.365685425), (17.989679087, 17.8))
            Line((17.989679087, 17.8), (17.989679087, 17.331100443))
            ThreePointArc((17.989679087, 17.331100443), (17.928782713, 17.024953697), (17.755364512, 16.765415018))
            Line((17.755364512, 16.765415018), (13.351546118, 12.361596625))
            ThreePointArc((13.351546118, 12.361596625), (14.1, 10), (13.351546118, 7.638403375))
            Line((13.351546118, 7.638403375), (17.755364512, 3.234584982))
            ThreePointArc((17.755364512, 3.234584982), (17.928782713, 2.975046303), (17.989679087, 2.668899557))
            Line((17.989679087, 2.668899557), (17.989679087, 2.2))
            ThreePointArc((17.989679087, 2.2), (18.223993662, 1.634314575), (18.789679087, 1.4))
            Line((18.789679087, 1.4), (21.210320913, 1.4))
            ThreePointArc((21.210320913, 1.4), (21.776006338, 1.634314575), (22.010320913, 2.2))
            Line((22.010320913, 2.2), (22.010320913, 2.668899557))
            ThreePointArc((22.010320913, 2.668899557), (22.071217287, 2.975046303), (22.244635488, 3.234584982))
            Line((22.244635488, 3.234584982), (26.648453882, 7.638403375))
            ThreePointArc((26.648453882, 7.638403375), (25.9, 10), (26.648453882, 12.361596625))
            Line((26.648453882, 12.361596625), (22.244635488, 16.765415018))
            ThreePointArc((22.244635488, 16.765415018), (22.071217287, 17.024953697), (22.010320913, 17.331100443))
            Line((22.010320913, 17.331100443), (22.010320913, 17.8))
            ThreePointArc((22.010320913, 17.8), (21.776006338, 18.365685425), (21.210320913, 18.6))
        make_face(mode=Mode.SUBTRACT)
        with BuildLine():
            Line((8.201142588, 12.443783276), (8.552743846, 12.092182018))
            ThreePointArc((8.552743846, 12.092182018), (10, 12.543968548), (11.447256154, 12.092182018))
            Line((11.447256154, 12.092182018), (11.798857412, 12.443783276))
            ThreePointArc((11.798857412, 12.443783276), (12.443783276, 12.443783276), (12.443783276, 11.798857412))
            Line((12.443783276, 11.798857412), (12.092182018, 11.447256154))
            ThreePointArc((12.092182018, 11.447256154), (12.543968548, 10), (12.092182018, 8.552743846))
            Line((12.092182018, 8.552743846), (12.443783276, 8.201142588))
            ThreePointArc((12.443783276, 8.201142588), (12.443783276, 7.556216724), (11.798857412, 7.556216724))
            Line((11.798857412, 7.556216724), (11.447256154, 7.907817982))
            ThreePointArc((11.447256154, 7.907817982), (10, 7.456031452), (8.552743846, 7.907817982))
            Line((8.552743846, 7.907817982), (8.201142588, 7.556216724))
            ThreePointArc((8.201142588, 7.556216724), (7.556216724, 7.556216724), (7.556216724, 8.201142588))
            Line((7.556216724, 8.201142588), (7.907817982, 8.552743846))
            ThreePointArc((7.907817982, 8.552743846), (7.456031452, 10), (7.907817982, 11.447256154))
            Line((7.907817982, 11.447256154), (7.556216724, 11.798857412))
            ThreePointArc((7.556216724, 11.798857412), (7.556216724, 12.443783276), (8.201142588, 12.443783276))
        make_face(mode=Mode.SUBTRACT)
        with BuildLine():
            Line((27.907817982, 11.447256154), (27.556216724, 11.798857412))
            ThreePointArc((27.556216724, 11.798857412), (27.556216724, 12.443783276), (28.201142588, 12.443783276))
            Line((28.201142588, 12.443783276), (28.552743846, 12.092182018))
            ThreePointArc((28.552743846, 12.092182018), (30, 12.543968548), (31.447256154, 12.092182018))
            Line((31.447256154, 12.092182018), (31.798857412, 12.443783276))
            ThreePointArc((31.798857412, 12.443783276), (32.443783276, 12.443783276), (32.443783276, 11.798857412))
            Line((32.443783276, 11.798857412), (32.092182018, 11.447256154))
            ThreePointArc((32.092182018, 11.447256154), (32.543968548, 10), (32.092182018, 8.552743846))
            Line((32.092182018, 8.552743846), (32.443783276, 8.201142588))
            ThreePointArc((32.443783276, 8.201142588), (32.443783276, 7.556216724), (31.798857412, 7.556216724))
            Line((31.798857412, 7.556216724), (31.447256154, 7.907817982))
            ThreePointArc((31.447256154, 7.907817982), (30, 7.456031452), (28.552743846, 7.907817982))
            Line((28.552743846, 7.907817982), (28.201142588, 7.556216724))
            ThreePointArc((28.201142588, 7.556216724), (27.556216724, 7.556216724), (27.556216724, 8.201142588))
            Line((27.556216724, 8.201142588), (27.907817982, 8.552743846))
            ThreePointArc((27.907817982, 8.552743846), (27.456031452, 10), (27.907817982, 11.447256154))
        make_face(mode=Mode.SUBTRACT)
    extrude(amount=Y_KSEKLIK_EKSTR_ZYON2_DEPTH)

    # Radyus1
    radyus1_edges = [part.edges().sort_by_distance(p)[0] for p in [
        (6.648453882, 7.638403375, 5),
        (6.648453882, 12.361596625, 5),
        (33.351546118, 12.361596625, 5),
        (33.351546118, 7.638403375, 5),
        (13.351546118, 12.361596625, 5),
        (13.351546118, 7.638403375, 5),
        (26.648453882, 7.638403375, 5),
        (26.648453882, 12.361596625, 5),
    ]]
    fillet(radyus1_edges, radius=RADYUS1_R)


solid = part.part
